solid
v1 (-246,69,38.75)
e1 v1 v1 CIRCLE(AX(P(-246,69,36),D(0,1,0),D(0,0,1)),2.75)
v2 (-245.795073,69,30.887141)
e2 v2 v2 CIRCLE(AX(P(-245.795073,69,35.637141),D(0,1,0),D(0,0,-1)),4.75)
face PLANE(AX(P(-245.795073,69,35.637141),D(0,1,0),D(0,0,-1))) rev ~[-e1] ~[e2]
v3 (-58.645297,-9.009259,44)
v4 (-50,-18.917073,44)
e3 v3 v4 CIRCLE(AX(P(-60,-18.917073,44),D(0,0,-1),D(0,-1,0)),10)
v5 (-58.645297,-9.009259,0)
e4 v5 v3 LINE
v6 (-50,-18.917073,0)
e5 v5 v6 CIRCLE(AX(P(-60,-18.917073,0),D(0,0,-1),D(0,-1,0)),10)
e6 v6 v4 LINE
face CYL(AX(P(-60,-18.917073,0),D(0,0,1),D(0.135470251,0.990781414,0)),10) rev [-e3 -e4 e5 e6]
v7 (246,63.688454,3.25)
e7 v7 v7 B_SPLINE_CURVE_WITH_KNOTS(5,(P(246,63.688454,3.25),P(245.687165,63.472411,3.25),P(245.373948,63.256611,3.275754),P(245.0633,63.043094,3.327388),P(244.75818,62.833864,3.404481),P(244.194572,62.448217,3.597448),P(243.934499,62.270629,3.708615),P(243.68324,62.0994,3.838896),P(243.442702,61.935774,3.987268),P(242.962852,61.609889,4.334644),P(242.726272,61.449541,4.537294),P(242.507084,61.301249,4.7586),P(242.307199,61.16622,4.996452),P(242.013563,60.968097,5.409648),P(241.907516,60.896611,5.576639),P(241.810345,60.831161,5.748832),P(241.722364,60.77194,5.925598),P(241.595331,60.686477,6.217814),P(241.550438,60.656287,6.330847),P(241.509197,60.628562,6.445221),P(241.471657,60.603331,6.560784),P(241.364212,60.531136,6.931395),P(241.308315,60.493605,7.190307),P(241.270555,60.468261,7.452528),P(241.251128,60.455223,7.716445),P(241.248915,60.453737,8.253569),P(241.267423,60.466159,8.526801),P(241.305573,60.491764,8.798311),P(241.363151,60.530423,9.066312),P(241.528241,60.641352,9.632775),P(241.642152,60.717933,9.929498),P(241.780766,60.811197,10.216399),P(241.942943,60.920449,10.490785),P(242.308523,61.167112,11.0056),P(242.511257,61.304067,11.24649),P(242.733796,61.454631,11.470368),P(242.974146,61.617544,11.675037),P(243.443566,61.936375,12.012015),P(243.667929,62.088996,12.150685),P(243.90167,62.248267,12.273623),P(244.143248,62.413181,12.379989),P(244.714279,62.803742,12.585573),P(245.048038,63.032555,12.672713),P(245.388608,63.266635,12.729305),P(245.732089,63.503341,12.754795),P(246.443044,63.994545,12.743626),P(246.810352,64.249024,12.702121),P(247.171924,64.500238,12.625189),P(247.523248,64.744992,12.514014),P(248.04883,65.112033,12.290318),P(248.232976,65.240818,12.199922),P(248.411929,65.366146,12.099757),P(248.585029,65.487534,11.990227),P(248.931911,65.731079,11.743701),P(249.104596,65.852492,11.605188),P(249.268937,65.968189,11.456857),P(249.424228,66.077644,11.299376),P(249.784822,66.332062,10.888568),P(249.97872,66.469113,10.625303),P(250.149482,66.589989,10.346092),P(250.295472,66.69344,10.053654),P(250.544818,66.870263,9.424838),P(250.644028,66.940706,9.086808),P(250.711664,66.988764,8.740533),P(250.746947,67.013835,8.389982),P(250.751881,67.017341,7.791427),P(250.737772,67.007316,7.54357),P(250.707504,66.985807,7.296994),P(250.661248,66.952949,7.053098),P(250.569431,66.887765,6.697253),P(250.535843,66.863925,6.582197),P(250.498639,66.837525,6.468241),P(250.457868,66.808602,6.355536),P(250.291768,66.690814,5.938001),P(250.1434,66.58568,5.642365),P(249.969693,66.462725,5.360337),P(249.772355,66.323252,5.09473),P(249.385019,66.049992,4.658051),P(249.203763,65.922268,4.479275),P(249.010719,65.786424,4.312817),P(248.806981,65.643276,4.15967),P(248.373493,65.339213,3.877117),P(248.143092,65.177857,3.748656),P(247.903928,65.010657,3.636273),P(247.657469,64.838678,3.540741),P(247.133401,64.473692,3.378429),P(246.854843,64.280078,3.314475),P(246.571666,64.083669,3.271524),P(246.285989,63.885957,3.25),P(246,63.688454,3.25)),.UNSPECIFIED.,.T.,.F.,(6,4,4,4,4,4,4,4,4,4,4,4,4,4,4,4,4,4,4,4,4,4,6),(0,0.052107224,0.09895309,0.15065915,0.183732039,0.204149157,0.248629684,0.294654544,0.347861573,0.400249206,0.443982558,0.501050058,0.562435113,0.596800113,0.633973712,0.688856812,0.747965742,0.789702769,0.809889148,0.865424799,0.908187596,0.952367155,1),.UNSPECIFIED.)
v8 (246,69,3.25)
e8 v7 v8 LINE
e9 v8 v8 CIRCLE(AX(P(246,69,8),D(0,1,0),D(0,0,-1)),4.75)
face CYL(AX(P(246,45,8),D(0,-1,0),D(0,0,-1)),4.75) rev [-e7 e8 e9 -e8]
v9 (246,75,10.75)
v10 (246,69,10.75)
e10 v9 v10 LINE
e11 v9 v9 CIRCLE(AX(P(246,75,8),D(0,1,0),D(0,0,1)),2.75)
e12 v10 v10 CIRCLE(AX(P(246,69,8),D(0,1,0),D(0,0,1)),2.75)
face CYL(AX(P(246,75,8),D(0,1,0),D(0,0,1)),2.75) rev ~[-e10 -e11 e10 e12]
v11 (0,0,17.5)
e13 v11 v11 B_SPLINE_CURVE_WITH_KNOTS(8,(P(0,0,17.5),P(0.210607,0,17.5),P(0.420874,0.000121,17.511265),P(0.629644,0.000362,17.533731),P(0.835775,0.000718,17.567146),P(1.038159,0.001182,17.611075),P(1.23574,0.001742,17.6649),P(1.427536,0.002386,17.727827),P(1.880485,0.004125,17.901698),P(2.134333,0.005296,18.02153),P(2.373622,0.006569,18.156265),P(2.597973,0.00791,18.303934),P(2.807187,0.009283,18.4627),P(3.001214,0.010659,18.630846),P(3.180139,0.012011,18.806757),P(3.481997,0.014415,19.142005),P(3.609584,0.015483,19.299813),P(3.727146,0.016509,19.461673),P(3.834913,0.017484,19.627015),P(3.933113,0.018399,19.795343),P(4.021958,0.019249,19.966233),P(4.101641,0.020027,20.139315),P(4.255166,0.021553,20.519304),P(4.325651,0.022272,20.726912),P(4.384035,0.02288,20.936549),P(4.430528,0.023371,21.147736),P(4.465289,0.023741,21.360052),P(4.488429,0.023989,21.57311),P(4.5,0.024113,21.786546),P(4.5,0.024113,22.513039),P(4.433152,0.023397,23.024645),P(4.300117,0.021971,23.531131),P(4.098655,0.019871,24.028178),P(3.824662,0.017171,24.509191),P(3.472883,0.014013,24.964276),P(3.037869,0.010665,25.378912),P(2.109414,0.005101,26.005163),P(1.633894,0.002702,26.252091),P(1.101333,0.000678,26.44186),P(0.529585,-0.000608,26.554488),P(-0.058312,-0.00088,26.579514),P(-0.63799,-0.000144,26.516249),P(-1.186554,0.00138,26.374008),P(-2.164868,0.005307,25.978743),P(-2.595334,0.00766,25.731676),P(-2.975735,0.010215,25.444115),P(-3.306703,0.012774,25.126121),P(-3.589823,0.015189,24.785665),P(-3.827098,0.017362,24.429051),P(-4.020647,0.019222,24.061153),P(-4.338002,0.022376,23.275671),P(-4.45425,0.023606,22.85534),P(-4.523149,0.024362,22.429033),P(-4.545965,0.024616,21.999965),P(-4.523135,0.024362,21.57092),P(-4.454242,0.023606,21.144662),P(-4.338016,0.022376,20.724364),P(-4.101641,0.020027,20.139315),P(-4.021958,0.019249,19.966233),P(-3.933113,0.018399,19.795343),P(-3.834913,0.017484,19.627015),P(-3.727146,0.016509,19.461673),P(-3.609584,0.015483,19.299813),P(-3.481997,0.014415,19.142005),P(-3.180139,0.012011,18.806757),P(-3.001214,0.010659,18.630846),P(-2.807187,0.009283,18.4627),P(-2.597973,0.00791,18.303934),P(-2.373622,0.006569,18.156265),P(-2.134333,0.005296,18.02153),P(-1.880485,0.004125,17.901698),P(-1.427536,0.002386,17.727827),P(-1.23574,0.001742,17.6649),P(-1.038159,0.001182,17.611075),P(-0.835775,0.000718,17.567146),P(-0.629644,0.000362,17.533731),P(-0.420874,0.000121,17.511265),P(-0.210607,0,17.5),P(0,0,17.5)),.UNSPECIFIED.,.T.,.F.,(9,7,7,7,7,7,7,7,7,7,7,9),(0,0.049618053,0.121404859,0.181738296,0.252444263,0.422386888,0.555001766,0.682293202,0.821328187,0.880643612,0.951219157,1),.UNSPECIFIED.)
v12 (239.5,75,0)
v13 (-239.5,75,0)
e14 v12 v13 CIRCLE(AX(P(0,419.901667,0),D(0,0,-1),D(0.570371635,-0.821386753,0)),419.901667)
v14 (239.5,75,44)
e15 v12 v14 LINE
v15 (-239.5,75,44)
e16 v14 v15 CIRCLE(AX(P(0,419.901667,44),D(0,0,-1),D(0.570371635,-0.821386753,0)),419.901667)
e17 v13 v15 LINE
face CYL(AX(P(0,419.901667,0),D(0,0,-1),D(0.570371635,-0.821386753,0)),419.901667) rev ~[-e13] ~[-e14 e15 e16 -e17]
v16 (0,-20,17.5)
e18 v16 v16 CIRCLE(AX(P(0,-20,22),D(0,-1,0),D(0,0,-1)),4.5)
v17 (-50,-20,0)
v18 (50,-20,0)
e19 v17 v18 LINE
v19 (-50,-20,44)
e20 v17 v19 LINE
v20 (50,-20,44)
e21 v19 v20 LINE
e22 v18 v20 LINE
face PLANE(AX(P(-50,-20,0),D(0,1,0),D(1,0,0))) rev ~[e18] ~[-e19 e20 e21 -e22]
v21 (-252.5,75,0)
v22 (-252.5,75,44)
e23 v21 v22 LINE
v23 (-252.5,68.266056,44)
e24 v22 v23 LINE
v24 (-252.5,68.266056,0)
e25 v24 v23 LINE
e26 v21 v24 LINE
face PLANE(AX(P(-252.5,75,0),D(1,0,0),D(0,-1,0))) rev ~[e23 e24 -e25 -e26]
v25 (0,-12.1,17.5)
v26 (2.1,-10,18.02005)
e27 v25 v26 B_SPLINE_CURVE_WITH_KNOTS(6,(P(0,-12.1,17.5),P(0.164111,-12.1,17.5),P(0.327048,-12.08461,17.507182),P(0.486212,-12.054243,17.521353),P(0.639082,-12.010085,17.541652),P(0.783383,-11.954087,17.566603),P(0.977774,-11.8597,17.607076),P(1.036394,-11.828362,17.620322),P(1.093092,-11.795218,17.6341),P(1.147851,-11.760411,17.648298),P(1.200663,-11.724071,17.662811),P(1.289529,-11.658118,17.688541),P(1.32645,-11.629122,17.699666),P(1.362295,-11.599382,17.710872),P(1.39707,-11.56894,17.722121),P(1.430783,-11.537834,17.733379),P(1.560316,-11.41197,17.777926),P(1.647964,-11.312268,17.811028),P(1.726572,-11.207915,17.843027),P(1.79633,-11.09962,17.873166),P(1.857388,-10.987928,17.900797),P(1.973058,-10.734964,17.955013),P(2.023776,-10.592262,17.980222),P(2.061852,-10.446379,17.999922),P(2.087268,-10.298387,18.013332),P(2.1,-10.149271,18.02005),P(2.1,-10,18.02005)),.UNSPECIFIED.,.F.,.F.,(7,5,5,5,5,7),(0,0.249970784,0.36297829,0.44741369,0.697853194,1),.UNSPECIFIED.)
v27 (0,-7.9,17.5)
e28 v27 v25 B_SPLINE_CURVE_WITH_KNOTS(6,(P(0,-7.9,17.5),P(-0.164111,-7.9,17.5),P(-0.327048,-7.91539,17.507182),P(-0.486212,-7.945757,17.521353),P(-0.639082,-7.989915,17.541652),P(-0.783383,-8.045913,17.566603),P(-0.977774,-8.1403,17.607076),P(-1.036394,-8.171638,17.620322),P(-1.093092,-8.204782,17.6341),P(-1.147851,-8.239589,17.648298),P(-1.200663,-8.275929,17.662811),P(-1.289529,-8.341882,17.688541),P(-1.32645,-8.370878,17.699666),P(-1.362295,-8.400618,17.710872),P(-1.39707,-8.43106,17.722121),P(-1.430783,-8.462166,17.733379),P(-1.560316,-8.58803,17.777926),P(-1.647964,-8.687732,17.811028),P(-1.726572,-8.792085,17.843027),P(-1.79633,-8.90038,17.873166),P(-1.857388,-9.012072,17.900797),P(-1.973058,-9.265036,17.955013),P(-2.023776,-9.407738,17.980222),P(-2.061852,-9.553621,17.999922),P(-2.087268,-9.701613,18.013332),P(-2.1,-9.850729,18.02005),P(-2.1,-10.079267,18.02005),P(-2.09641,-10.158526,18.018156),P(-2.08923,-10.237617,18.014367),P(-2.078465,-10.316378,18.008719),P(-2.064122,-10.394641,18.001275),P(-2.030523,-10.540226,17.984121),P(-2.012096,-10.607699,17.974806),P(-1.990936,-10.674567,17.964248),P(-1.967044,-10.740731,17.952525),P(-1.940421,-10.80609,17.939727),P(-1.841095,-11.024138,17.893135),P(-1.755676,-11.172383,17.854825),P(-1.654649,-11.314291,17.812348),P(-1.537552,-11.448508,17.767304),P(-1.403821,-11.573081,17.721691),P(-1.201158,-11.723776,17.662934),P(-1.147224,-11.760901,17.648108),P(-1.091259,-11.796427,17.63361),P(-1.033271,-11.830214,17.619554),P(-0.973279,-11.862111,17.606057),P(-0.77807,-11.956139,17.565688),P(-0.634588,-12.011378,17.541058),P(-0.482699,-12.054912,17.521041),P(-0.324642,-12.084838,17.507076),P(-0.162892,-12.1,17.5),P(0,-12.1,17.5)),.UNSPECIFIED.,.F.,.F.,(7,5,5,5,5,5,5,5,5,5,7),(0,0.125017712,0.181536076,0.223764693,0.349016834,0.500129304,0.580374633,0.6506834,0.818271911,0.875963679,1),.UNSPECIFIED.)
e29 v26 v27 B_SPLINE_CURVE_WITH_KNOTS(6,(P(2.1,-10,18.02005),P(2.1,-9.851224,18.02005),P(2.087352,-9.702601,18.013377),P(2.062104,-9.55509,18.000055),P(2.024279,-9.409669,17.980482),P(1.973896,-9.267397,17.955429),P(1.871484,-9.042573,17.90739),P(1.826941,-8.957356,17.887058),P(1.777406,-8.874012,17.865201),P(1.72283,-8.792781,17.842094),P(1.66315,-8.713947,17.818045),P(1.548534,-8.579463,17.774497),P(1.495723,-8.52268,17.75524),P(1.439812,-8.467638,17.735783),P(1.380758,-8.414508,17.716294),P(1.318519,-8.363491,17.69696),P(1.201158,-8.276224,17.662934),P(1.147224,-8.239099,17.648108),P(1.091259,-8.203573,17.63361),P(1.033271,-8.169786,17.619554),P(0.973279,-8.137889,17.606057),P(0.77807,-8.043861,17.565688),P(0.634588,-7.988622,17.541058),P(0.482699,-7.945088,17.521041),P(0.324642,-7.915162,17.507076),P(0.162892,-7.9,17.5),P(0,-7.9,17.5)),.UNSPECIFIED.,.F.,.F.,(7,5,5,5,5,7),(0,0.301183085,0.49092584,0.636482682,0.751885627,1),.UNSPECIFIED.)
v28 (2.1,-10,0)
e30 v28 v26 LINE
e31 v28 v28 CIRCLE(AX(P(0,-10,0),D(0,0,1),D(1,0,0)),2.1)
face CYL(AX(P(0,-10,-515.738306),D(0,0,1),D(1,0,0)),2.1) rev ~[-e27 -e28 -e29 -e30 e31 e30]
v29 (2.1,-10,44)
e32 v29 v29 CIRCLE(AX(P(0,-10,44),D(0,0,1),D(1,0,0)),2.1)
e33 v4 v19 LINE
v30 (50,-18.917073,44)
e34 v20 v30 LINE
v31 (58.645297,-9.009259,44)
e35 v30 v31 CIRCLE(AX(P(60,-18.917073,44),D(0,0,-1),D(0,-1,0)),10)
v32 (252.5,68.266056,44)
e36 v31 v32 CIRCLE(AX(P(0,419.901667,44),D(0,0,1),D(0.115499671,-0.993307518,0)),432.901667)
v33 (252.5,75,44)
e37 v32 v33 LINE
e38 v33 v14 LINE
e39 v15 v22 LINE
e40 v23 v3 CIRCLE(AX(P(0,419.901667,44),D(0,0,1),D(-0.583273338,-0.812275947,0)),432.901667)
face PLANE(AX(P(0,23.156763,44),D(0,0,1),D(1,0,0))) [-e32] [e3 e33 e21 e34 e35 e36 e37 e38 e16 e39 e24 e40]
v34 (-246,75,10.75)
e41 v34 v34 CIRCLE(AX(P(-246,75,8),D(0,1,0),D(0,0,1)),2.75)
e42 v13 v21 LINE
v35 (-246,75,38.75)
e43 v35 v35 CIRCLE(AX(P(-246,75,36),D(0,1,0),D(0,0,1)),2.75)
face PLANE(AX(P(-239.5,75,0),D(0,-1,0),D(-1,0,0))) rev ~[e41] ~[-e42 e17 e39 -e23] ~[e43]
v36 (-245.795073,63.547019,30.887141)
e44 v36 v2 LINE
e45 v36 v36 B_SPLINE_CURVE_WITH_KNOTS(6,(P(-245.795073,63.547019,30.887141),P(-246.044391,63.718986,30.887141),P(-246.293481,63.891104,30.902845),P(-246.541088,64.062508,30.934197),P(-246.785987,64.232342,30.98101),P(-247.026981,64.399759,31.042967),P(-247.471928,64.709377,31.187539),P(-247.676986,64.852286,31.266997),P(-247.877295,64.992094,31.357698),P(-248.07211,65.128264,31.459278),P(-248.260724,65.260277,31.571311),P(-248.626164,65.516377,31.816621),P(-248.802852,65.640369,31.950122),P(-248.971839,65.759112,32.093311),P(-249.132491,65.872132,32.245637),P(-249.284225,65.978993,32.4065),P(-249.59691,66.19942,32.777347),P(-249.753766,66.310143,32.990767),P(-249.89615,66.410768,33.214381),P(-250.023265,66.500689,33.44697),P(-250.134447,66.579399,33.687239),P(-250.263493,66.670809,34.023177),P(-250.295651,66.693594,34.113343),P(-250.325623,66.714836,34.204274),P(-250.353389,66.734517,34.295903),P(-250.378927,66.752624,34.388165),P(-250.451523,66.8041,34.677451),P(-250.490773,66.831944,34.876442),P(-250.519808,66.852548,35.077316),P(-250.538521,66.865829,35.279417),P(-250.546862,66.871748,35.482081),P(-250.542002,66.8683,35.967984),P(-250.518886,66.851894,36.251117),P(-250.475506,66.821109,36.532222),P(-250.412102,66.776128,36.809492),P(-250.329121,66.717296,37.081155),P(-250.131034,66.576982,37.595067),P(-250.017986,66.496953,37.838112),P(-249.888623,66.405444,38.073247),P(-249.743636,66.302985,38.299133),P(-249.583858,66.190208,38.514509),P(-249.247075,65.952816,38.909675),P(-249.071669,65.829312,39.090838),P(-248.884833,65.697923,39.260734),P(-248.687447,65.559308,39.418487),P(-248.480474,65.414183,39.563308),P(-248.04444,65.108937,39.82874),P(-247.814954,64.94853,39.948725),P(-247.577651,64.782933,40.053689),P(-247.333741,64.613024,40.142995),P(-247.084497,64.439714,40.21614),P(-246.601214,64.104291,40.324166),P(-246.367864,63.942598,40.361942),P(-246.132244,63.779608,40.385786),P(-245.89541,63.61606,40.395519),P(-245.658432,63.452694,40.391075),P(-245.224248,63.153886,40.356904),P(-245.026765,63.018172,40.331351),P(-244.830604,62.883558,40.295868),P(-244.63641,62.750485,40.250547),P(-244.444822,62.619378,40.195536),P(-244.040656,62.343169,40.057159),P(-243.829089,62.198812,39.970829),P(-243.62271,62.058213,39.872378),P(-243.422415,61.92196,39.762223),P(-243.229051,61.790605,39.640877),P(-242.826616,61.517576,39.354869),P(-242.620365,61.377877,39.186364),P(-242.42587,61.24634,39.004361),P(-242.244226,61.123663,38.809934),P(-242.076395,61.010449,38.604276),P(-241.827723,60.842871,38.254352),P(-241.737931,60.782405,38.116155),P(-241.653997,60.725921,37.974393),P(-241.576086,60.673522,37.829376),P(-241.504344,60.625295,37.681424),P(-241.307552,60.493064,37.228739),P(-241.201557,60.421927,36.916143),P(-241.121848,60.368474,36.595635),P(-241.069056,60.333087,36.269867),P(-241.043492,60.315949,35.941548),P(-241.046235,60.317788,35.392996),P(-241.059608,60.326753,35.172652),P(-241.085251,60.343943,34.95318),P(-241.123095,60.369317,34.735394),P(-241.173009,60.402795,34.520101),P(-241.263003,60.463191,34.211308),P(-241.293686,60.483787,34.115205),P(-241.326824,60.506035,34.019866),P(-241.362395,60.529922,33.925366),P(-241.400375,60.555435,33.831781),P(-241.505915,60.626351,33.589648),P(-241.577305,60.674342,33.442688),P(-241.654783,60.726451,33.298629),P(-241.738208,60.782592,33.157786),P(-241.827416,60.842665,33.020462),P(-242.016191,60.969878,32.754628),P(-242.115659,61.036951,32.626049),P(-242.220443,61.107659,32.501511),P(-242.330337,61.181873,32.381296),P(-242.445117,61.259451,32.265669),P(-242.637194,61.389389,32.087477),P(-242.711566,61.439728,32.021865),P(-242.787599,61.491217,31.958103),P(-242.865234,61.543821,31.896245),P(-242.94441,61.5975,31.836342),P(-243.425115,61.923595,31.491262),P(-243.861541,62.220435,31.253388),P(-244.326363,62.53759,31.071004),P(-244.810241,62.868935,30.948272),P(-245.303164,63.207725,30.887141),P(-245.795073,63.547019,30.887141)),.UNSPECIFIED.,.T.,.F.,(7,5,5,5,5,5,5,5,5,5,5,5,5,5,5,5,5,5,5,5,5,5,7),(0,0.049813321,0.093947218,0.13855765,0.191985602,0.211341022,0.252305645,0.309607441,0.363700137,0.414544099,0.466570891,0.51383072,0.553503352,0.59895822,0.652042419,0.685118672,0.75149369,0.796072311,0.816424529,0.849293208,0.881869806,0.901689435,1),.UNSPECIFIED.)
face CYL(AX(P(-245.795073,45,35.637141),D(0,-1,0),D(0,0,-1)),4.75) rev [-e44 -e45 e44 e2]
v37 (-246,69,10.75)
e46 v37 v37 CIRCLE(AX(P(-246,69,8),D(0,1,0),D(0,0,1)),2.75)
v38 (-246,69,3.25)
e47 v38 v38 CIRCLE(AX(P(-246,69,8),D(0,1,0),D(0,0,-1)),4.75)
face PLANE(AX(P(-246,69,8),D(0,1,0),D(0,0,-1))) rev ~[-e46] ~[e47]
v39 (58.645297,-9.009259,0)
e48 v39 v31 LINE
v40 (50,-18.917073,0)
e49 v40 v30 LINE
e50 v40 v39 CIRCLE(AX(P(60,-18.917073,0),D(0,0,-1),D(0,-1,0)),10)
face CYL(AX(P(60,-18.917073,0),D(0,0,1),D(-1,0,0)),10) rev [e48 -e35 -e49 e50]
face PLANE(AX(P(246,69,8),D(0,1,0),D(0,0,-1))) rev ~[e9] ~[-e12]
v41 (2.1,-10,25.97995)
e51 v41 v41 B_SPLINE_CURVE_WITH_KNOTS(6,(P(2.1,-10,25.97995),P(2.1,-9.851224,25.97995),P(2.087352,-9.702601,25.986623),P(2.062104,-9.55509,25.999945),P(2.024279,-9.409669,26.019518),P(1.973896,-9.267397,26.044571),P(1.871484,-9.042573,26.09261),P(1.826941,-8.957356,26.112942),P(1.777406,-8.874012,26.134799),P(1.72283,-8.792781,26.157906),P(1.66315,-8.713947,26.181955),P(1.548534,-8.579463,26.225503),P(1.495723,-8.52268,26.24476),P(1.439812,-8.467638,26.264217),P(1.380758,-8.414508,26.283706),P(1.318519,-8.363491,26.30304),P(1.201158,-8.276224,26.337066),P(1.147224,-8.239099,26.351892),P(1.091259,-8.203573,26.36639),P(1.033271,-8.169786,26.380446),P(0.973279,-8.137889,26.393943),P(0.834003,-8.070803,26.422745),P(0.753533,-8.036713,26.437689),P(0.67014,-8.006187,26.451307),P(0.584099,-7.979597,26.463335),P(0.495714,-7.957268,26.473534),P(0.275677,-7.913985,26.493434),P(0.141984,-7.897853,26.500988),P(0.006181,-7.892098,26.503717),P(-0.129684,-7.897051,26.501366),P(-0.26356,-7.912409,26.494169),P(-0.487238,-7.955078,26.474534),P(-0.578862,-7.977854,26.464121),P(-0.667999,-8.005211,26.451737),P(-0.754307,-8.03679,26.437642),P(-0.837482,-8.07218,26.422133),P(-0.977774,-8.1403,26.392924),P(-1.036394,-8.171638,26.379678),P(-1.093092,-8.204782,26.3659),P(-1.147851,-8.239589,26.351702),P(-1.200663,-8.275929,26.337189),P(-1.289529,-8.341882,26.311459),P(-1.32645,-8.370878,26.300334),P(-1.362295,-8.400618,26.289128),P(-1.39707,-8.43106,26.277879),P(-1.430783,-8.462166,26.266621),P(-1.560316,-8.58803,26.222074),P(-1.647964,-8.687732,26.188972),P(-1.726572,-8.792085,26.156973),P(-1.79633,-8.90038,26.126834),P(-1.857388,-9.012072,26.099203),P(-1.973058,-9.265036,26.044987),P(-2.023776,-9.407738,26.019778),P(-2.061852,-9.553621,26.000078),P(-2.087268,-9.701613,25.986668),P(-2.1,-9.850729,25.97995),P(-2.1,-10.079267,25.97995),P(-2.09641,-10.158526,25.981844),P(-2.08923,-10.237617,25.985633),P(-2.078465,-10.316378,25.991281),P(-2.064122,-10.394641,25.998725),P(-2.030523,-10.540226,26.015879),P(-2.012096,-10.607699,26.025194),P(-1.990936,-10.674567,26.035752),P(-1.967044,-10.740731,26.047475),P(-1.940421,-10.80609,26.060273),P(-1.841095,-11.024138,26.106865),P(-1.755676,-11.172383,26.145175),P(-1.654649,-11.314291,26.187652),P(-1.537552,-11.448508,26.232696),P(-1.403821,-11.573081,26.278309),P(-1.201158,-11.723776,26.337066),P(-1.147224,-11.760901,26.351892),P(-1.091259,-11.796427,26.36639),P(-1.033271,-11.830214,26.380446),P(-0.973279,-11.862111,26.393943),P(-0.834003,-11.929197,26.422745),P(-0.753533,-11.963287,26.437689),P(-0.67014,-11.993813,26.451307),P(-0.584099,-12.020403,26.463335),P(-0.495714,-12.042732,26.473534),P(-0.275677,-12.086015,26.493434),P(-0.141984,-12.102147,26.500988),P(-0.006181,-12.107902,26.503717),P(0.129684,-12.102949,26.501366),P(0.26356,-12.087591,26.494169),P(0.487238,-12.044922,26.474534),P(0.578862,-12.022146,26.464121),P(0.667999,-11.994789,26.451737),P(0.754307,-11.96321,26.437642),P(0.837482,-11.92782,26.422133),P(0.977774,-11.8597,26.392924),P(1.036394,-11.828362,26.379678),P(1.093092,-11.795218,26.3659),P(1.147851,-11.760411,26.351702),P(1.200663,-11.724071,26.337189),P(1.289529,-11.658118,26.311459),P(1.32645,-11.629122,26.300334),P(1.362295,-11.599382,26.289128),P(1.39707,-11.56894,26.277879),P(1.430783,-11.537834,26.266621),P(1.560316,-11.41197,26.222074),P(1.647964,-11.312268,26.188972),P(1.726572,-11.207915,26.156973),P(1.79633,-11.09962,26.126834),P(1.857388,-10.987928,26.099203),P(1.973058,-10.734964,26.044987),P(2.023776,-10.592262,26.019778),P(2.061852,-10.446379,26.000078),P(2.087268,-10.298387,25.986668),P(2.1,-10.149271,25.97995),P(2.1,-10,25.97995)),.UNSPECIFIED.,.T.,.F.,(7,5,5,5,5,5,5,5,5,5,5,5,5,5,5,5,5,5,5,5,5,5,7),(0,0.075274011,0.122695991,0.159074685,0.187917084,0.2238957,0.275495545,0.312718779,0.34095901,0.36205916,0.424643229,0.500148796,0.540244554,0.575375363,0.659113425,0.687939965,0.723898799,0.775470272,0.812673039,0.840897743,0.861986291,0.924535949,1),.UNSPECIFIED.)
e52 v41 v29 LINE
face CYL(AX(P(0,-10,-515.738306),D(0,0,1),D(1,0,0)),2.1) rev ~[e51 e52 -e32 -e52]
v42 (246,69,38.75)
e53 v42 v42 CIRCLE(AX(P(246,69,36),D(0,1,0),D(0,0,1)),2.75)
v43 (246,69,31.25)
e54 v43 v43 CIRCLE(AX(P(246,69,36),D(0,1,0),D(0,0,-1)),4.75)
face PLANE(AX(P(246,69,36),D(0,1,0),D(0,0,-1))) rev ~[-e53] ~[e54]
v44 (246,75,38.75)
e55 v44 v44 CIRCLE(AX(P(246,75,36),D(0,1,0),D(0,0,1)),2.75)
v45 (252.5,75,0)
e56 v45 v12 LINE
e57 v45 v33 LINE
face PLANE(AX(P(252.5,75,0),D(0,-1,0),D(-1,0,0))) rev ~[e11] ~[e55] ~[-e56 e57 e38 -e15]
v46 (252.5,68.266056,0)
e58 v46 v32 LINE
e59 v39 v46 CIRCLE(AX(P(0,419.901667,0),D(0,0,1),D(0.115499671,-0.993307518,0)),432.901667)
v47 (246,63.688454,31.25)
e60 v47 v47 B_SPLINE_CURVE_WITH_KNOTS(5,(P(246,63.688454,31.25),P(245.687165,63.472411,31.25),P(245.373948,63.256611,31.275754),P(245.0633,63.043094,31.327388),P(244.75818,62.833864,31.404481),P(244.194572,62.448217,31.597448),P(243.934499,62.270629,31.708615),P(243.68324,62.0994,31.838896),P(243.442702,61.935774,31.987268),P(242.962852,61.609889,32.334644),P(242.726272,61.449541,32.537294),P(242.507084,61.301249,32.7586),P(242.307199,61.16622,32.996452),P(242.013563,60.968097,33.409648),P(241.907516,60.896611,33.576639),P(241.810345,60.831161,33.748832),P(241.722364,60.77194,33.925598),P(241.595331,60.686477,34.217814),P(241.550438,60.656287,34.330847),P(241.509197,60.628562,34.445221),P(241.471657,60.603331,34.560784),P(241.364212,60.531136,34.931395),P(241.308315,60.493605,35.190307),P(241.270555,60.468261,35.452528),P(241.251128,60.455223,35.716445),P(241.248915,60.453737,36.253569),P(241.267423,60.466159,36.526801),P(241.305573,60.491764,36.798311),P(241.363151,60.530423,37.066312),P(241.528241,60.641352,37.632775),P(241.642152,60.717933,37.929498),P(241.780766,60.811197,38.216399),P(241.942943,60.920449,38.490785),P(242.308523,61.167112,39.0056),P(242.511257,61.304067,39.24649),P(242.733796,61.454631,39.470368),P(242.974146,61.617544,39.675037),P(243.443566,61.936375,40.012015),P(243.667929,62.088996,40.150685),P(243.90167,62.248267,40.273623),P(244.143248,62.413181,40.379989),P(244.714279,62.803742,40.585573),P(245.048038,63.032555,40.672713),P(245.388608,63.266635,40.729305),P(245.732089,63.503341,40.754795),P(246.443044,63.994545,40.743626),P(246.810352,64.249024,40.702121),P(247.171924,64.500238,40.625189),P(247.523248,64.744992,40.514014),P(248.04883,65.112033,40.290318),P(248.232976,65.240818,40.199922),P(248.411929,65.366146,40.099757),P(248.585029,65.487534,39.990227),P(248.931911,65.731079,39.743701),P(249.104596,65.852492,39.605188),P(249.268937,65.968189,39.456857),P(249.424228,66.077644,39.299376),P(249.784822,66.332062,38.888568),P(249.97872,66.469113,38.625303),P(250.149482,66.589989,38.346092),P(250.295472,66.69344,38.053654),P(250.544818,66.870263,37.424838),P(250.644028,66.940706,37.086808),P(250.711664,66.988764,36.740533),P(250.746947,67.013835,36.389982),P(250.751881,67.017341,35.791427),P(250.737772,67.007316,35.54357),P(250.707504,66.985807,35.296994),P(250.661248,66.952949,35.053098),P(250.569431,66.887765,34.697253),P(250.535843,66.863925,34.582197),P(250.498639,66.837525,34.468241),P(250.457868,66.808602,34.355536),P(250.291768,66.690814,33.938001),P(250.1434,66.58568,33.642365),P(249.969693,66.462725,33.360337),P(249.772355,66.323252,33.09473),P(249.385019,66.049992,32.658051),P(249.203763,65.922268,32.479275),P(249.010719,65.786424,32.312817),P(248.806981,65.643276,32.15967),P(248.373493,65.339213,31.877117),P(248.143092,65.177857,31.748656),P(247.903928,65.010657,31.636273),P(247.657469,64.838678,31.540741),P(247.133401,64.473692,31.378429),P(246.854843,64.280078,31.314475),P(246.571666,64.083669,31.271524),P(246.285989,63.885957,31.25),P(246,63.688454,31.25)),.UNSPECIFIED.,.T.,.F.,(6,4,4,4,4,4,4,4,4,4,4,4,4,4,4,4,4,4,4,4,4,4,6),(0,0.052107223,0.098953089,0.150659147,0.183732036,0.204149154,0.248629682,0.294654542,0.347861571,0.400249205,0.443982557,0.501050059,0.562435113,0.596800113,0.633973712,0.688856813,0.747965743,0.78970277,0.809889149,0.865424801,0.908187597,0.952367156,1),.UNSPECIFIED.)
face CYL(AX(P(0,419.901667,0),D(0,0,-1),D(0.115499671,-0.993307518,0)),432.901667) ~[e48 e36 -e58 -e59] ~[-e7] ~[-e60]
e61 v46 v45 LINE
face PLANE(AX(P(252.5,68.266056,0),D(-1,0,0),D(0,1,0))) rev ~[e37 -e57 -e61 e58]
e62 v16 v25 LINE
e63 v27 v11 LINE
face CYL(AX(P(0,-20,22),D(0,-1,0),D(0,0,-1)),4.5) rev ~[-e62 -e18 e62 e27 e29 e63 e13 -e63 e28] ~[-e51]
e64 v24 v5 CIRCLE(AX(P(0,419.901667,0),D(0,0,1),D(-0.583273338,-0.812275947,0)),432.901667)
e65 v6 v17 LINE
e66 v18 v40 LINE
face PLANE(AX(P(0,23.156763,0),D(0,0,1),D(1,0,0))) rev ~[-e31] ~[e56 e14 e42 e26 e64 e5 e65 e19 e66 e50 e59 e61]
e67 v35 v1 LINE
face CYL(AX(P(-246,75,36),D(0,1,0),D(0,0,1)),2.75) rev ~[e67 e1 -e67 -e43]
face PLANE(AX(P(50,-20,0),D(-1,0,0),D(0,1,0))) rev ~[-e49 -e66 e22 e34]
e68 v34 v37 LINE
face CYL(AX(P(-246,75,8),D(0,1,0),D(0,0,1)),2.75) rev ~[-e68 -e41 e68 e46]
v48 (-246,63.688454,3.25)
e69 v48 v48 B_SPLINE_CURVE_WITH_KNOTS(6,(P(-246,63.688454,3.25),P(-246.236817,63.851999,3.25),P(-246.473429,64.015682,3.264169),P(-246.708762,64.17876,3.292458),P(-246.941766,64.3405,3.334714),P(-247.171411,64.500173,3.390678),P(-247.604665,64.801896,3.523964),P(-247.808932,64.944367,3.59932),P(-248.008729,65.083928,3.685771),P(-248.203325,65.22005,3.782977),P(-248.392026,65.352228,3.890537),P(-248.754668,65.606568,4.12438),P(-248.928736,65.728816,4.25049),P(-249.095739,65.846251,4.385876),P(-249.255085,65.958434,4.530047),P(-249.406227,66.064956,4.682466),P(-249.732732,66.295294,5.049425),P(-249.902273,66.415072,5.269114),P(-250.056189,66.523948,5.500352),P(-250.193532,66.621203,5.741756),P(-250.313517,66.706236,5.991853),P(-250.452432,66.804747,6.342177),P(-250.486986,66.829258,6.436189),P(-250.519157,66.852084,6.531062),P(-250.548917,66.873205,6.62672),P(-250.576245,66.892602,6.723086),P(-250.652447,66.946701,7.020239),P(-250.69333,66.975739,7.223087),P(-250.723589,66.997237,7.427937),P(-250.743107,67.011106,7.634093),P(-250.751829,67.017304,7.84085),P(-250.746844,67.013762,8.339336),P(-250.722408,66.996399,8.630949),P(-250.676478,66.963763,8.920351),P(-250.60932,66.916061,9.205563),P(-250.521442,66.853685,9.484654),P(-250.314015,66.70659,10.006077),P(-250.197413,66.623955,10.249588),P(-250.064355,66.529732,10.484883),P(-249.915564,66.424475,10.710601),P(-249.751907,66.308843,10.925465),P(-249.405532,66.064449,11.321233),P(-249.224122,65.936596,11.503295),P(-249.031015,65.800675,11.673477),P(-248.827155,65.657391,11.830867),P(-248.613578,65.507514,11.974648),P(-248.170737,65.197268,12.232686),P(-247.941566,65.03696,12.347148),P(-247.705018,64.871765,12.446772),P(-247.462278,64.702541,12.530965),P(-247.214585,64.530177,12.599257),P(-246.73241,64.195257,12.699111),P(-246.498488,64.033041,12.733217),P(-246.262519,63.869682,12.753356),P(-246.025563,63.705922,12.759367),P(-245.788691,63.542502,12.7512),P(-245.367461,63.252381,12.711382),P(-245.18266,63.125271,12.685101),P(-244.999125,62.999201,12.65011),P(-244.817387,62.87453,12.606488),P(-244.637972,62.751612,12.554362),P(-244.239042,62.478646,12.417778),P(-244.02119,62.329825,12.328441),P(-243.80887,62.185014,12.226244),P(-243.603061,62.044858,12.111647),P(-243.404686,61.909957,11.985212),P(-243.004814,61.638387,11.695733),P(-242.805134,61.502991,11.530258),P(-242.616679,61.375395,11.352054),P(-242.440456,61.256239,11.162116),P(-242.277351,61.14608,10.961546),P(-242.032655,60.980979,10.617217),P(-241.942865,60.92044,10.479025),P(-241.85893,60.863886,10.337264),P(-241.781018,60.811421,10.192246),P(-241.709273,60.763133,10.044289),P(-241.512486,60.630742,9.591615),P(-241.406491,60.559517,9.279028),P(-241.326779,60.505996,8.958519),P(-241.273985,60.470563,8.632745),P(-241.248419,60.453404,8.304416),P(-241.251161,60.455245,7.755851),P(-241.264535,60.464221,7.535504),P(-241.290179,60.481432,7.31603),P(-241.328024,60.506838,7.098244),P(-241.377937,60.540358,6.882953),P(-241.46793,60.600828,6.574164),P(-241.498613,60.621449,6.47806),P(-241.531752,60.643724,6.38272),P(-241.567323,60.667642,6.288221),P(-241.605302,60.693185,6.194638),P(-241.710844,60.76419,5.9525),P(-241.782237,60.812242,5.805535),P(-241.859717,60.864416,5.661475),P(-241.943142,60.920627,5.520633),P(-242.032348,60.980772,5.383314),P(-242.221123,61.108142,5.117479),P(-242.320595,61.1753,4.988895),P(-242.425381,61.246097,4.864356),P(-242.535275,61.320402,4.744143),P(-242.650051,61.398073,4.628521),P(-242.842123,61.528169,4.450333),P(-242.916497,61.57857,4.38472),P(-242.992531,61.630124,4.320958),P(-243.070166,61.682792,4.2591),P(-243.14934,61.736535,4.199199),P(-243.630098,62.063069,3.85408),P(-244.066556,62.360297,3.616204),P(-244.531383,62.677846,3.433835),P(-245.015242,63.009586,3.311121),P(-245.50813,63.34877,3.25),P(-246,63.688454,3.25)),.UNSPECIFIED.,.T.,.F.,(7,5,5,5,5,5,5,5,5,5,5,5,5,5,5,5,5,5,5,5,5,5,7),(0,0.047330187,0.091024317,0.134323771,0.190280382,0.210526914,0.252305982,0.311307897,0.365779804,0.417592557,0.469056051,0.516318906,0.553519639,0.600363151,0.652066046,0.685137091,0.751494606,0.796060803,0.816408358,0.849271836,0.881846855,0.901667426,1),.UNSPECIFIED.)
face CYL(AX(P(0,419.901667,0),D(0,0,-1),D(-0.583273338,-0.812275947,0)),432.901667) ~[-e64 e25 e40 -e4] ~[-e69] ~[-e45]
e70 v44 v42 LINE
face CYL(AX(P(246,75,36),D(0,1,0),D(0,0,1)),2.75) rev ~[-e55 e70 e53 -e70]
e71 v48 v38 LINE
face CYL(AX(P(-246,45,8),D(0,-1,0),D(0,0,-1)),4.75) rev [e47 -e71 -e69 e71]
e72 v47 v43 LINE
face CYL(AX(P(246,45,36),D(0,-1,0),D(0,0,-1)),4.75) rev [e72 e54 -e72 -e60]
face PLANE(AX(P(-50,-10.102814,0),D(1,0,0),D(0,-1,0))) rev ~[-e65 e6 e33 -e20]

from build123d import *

# Parameters (mm, degrees)
BOSS_EXTRU_1_DEPTH       = 44
ESQUISSE2_R              = 4.5
ENL_V_MAT_EXTRU_1_DEPTH  = 96
ESQUISSE6_R              = 2.75
ENL_V_MAT_EXTRU_2_DEPTH  = 96.0000001
ESQUISSE7_R              = 4.75
ENL_V_MAT_EXTRU_3_DEPTH  = 24
ESQUISSE8_R              = 2.75
ENL_V_MAT_EXTRU_4_DEPTH  = 96.0000001
ESQUISSE9_R              = 4.75
ENL_V_MAT_EXTRU_5_DEPTH  = 24
ESQUISSE10_R             = 2.75
ENL_V_MAT_EXTRU_6_DEPTH  = 96.0000001
ESQUISSE11_R             = 4.75
ENL_V_MAT_EXTRU_8_DEPTH  = 24
ESQUISSE13_R             = 4.75
ENL_V_MAT_EXTRU_11_DEPTH = 24
TROU_TARAUD_M51_D        = 4.2
CONG_1_R                 = 10


with BuildPart() as part:
    # Esquisse1 → Boss.-Extru.1 (new body)
    with BuildSketch(Plane.XY):
        with BuildLine():
            Line((-252.5, 75), (-252.5, 68.266055554))
            ThreePointArc((-252.5, 68.266055554), (-156.243343573, 16.179149841), (-50, -10.102813546))
            Line((-50, -10.102813546), (-50, -20))
            Line((-50, -20), (50, -20))
            Line((50, -20), (50, -10.102813546))
            ThreePointArc((50, -10.102813546), (156.243343573, 16.179149841), (252.5, 68.266055554))
            Line((252.5, 68.266055554), (252.5, 75))
            Line((252.5, 75), (239.5, 75))
            ThreePointArc((239.5, 75), (0, 0), (-239.5, 75))
            Line((-239.5, 75), (-252.5, 75))
        make_face()
    extrude(amount=BOSS_EXTRU_1_DEPTH)

    # Esquisse2 → Enlèv. mat.-Extru.1 (cut, through all)
    with BuildSketch(Plane.XZ.offset(20)):
        with Locations(Location((0, 22, 0), (0, 0, 270))):  # turned: the seam where the file's is
            Circle(ESQUISSE2_R)
    extrude(amount=-ENL_V_MAT_EXTRU_1_DEPTH, mode=Mode.SUBTRACT)

    # Esquisse6 → Enlèv. mat.-Extru.2 (cut, through all)
    with BuildSketch(Plane(origin=(0, 75, 0), x_dir=(1, 0, 0), z_dir=(0, 1, 0))):
        with Locations(Location((246, -8, 0), (0, 0, 270))):  # turned: the seam where the file's is
            Circle(ESQUISSE6_R)
    extrude(amount=-ENL_V_MAT_EXTRU_2_DEPTH, mode=Mode.SUBTRACT)

    # Esquisse7 → Enlèv. mat.-Extru.3 (cut)
    with BuildSketch(Plane(origin=(0, 45, 0), x_dir=(-1, 0, 0), z_dir=(0, 1, 0))):
        with Locations(Location((-246, 8, 0), (0, 0, 270))):  # turned: the seam where the file's is
            Circle(ESQUISSE7_R)
    extrude(amount=ENL_V_MAT_EXTRU_3_DEPTH, mode=Mode.SUBTRACT)

    # Esquisse8 → Enlèv. mat.-Extru.4 (cut, through all)
    with BuildSketch(Plane(origin=(0, 75, 0), x_dir=(1, 0, 0), z_dir=(0, 1, 0))):
        with Locations(Location((246, -36, 0), (0, 0, 270))):  # turned: the seam where the file's is
            Circle(ESQUISSE8_R)
    extrude(amount=-ENL_V_MAT_EXTRU_4_DEPTH, mode=Mode.SUBTRACT)

    # Esquisse9 → Enlèv. mat.-Extru.5 (cut)
    with BuildSketch(Plane(origin=(0, 45, 0), x_dir=(-1, 0, 0), z_dir=(0, 1, 0))):
        with Locations(Location((-246, 36, 0), (0, 0, 270))):  # turned: the seam where the file's is
            Circle(ESQUISSE9_R)
    extrude(amount=ENL_V_MAT_EXTRU_5_DEPTH, mode=Mode.SUBTRACT)

    # Esquisse10 → Enlèv. mat.-Extru.6 (cut, through all)
    with BuildSketch(Plane(origin=(0, 75, 0), x_dir=(1, 0, 0), z_dir=(0, 1, 0))):
        with Locations(Location((-246, -8, 0), (0, 0, 270))):  # turned: the seam where the file's is
            Circle(ESQUISSE10_R)
        with Locations(Location((-246, -36, 0), (0, 0, 270))):  # turned: the seam where the file's is
            Circle(ESQUISSE10_R)
    extrude(amount=-ENL_V_MAT_EXTRU_6_DEPTH, mode=Mode.SUBTRACT)

    # Esquisse11 → Enlèv. mat.-Extru.8 (cut)
    with BuildSketch(Plane(origin=(0, 45, 0), x_dir=(-1, 0, 0), z_dir=(0, 1, 0))):
        with Locations(Location((246, 8, 0), (0, 0, 270))):  # turned: the seam where the file's is
            Circle(ESQUISSE11_R)
    extrude(amount=ENL_V_MAT_EXTRU_8_DEPTH, mode=Mode.SUBTRACT)

    # Esquisse13 → Enlèv. mat.-Extru.11 (cut)
    with BuildSketch(Plane(origin=(0, 45, 0), x_dir=(-1, 0, 0), z_dir=(0, 1, 0))):
        with Locations(Location((245.795073353, 35.637141441, 0), (0, 0, 270))):  # turned: the seam where the file's is
            Circle(ESQUISSE13_R)
    extrude(amount=ENL_V_MAT_EXTRU_11_DEPTH, mode=Mode.SUBTRACT)

    # Trou taraudé M51 (through all)
    with Locations(Plane(origin=(0, 0, 0), x_dir=(-1, 0, 0), z_dir=(0, 0, -1))):
        with Locations((0, -10)):
            Hole(TROU_TARAUD_M51_D / 2)

    # Congé1
    cong_1_edges = [part.edges().sort_by_distance(p)[0] for p in [
        (-50, -10.102813546, 22),
        (50, -10.102813546, 22),
    ]]
    fillet(cong_1_edges, radius=CONG_1_R)


solid = part.part
